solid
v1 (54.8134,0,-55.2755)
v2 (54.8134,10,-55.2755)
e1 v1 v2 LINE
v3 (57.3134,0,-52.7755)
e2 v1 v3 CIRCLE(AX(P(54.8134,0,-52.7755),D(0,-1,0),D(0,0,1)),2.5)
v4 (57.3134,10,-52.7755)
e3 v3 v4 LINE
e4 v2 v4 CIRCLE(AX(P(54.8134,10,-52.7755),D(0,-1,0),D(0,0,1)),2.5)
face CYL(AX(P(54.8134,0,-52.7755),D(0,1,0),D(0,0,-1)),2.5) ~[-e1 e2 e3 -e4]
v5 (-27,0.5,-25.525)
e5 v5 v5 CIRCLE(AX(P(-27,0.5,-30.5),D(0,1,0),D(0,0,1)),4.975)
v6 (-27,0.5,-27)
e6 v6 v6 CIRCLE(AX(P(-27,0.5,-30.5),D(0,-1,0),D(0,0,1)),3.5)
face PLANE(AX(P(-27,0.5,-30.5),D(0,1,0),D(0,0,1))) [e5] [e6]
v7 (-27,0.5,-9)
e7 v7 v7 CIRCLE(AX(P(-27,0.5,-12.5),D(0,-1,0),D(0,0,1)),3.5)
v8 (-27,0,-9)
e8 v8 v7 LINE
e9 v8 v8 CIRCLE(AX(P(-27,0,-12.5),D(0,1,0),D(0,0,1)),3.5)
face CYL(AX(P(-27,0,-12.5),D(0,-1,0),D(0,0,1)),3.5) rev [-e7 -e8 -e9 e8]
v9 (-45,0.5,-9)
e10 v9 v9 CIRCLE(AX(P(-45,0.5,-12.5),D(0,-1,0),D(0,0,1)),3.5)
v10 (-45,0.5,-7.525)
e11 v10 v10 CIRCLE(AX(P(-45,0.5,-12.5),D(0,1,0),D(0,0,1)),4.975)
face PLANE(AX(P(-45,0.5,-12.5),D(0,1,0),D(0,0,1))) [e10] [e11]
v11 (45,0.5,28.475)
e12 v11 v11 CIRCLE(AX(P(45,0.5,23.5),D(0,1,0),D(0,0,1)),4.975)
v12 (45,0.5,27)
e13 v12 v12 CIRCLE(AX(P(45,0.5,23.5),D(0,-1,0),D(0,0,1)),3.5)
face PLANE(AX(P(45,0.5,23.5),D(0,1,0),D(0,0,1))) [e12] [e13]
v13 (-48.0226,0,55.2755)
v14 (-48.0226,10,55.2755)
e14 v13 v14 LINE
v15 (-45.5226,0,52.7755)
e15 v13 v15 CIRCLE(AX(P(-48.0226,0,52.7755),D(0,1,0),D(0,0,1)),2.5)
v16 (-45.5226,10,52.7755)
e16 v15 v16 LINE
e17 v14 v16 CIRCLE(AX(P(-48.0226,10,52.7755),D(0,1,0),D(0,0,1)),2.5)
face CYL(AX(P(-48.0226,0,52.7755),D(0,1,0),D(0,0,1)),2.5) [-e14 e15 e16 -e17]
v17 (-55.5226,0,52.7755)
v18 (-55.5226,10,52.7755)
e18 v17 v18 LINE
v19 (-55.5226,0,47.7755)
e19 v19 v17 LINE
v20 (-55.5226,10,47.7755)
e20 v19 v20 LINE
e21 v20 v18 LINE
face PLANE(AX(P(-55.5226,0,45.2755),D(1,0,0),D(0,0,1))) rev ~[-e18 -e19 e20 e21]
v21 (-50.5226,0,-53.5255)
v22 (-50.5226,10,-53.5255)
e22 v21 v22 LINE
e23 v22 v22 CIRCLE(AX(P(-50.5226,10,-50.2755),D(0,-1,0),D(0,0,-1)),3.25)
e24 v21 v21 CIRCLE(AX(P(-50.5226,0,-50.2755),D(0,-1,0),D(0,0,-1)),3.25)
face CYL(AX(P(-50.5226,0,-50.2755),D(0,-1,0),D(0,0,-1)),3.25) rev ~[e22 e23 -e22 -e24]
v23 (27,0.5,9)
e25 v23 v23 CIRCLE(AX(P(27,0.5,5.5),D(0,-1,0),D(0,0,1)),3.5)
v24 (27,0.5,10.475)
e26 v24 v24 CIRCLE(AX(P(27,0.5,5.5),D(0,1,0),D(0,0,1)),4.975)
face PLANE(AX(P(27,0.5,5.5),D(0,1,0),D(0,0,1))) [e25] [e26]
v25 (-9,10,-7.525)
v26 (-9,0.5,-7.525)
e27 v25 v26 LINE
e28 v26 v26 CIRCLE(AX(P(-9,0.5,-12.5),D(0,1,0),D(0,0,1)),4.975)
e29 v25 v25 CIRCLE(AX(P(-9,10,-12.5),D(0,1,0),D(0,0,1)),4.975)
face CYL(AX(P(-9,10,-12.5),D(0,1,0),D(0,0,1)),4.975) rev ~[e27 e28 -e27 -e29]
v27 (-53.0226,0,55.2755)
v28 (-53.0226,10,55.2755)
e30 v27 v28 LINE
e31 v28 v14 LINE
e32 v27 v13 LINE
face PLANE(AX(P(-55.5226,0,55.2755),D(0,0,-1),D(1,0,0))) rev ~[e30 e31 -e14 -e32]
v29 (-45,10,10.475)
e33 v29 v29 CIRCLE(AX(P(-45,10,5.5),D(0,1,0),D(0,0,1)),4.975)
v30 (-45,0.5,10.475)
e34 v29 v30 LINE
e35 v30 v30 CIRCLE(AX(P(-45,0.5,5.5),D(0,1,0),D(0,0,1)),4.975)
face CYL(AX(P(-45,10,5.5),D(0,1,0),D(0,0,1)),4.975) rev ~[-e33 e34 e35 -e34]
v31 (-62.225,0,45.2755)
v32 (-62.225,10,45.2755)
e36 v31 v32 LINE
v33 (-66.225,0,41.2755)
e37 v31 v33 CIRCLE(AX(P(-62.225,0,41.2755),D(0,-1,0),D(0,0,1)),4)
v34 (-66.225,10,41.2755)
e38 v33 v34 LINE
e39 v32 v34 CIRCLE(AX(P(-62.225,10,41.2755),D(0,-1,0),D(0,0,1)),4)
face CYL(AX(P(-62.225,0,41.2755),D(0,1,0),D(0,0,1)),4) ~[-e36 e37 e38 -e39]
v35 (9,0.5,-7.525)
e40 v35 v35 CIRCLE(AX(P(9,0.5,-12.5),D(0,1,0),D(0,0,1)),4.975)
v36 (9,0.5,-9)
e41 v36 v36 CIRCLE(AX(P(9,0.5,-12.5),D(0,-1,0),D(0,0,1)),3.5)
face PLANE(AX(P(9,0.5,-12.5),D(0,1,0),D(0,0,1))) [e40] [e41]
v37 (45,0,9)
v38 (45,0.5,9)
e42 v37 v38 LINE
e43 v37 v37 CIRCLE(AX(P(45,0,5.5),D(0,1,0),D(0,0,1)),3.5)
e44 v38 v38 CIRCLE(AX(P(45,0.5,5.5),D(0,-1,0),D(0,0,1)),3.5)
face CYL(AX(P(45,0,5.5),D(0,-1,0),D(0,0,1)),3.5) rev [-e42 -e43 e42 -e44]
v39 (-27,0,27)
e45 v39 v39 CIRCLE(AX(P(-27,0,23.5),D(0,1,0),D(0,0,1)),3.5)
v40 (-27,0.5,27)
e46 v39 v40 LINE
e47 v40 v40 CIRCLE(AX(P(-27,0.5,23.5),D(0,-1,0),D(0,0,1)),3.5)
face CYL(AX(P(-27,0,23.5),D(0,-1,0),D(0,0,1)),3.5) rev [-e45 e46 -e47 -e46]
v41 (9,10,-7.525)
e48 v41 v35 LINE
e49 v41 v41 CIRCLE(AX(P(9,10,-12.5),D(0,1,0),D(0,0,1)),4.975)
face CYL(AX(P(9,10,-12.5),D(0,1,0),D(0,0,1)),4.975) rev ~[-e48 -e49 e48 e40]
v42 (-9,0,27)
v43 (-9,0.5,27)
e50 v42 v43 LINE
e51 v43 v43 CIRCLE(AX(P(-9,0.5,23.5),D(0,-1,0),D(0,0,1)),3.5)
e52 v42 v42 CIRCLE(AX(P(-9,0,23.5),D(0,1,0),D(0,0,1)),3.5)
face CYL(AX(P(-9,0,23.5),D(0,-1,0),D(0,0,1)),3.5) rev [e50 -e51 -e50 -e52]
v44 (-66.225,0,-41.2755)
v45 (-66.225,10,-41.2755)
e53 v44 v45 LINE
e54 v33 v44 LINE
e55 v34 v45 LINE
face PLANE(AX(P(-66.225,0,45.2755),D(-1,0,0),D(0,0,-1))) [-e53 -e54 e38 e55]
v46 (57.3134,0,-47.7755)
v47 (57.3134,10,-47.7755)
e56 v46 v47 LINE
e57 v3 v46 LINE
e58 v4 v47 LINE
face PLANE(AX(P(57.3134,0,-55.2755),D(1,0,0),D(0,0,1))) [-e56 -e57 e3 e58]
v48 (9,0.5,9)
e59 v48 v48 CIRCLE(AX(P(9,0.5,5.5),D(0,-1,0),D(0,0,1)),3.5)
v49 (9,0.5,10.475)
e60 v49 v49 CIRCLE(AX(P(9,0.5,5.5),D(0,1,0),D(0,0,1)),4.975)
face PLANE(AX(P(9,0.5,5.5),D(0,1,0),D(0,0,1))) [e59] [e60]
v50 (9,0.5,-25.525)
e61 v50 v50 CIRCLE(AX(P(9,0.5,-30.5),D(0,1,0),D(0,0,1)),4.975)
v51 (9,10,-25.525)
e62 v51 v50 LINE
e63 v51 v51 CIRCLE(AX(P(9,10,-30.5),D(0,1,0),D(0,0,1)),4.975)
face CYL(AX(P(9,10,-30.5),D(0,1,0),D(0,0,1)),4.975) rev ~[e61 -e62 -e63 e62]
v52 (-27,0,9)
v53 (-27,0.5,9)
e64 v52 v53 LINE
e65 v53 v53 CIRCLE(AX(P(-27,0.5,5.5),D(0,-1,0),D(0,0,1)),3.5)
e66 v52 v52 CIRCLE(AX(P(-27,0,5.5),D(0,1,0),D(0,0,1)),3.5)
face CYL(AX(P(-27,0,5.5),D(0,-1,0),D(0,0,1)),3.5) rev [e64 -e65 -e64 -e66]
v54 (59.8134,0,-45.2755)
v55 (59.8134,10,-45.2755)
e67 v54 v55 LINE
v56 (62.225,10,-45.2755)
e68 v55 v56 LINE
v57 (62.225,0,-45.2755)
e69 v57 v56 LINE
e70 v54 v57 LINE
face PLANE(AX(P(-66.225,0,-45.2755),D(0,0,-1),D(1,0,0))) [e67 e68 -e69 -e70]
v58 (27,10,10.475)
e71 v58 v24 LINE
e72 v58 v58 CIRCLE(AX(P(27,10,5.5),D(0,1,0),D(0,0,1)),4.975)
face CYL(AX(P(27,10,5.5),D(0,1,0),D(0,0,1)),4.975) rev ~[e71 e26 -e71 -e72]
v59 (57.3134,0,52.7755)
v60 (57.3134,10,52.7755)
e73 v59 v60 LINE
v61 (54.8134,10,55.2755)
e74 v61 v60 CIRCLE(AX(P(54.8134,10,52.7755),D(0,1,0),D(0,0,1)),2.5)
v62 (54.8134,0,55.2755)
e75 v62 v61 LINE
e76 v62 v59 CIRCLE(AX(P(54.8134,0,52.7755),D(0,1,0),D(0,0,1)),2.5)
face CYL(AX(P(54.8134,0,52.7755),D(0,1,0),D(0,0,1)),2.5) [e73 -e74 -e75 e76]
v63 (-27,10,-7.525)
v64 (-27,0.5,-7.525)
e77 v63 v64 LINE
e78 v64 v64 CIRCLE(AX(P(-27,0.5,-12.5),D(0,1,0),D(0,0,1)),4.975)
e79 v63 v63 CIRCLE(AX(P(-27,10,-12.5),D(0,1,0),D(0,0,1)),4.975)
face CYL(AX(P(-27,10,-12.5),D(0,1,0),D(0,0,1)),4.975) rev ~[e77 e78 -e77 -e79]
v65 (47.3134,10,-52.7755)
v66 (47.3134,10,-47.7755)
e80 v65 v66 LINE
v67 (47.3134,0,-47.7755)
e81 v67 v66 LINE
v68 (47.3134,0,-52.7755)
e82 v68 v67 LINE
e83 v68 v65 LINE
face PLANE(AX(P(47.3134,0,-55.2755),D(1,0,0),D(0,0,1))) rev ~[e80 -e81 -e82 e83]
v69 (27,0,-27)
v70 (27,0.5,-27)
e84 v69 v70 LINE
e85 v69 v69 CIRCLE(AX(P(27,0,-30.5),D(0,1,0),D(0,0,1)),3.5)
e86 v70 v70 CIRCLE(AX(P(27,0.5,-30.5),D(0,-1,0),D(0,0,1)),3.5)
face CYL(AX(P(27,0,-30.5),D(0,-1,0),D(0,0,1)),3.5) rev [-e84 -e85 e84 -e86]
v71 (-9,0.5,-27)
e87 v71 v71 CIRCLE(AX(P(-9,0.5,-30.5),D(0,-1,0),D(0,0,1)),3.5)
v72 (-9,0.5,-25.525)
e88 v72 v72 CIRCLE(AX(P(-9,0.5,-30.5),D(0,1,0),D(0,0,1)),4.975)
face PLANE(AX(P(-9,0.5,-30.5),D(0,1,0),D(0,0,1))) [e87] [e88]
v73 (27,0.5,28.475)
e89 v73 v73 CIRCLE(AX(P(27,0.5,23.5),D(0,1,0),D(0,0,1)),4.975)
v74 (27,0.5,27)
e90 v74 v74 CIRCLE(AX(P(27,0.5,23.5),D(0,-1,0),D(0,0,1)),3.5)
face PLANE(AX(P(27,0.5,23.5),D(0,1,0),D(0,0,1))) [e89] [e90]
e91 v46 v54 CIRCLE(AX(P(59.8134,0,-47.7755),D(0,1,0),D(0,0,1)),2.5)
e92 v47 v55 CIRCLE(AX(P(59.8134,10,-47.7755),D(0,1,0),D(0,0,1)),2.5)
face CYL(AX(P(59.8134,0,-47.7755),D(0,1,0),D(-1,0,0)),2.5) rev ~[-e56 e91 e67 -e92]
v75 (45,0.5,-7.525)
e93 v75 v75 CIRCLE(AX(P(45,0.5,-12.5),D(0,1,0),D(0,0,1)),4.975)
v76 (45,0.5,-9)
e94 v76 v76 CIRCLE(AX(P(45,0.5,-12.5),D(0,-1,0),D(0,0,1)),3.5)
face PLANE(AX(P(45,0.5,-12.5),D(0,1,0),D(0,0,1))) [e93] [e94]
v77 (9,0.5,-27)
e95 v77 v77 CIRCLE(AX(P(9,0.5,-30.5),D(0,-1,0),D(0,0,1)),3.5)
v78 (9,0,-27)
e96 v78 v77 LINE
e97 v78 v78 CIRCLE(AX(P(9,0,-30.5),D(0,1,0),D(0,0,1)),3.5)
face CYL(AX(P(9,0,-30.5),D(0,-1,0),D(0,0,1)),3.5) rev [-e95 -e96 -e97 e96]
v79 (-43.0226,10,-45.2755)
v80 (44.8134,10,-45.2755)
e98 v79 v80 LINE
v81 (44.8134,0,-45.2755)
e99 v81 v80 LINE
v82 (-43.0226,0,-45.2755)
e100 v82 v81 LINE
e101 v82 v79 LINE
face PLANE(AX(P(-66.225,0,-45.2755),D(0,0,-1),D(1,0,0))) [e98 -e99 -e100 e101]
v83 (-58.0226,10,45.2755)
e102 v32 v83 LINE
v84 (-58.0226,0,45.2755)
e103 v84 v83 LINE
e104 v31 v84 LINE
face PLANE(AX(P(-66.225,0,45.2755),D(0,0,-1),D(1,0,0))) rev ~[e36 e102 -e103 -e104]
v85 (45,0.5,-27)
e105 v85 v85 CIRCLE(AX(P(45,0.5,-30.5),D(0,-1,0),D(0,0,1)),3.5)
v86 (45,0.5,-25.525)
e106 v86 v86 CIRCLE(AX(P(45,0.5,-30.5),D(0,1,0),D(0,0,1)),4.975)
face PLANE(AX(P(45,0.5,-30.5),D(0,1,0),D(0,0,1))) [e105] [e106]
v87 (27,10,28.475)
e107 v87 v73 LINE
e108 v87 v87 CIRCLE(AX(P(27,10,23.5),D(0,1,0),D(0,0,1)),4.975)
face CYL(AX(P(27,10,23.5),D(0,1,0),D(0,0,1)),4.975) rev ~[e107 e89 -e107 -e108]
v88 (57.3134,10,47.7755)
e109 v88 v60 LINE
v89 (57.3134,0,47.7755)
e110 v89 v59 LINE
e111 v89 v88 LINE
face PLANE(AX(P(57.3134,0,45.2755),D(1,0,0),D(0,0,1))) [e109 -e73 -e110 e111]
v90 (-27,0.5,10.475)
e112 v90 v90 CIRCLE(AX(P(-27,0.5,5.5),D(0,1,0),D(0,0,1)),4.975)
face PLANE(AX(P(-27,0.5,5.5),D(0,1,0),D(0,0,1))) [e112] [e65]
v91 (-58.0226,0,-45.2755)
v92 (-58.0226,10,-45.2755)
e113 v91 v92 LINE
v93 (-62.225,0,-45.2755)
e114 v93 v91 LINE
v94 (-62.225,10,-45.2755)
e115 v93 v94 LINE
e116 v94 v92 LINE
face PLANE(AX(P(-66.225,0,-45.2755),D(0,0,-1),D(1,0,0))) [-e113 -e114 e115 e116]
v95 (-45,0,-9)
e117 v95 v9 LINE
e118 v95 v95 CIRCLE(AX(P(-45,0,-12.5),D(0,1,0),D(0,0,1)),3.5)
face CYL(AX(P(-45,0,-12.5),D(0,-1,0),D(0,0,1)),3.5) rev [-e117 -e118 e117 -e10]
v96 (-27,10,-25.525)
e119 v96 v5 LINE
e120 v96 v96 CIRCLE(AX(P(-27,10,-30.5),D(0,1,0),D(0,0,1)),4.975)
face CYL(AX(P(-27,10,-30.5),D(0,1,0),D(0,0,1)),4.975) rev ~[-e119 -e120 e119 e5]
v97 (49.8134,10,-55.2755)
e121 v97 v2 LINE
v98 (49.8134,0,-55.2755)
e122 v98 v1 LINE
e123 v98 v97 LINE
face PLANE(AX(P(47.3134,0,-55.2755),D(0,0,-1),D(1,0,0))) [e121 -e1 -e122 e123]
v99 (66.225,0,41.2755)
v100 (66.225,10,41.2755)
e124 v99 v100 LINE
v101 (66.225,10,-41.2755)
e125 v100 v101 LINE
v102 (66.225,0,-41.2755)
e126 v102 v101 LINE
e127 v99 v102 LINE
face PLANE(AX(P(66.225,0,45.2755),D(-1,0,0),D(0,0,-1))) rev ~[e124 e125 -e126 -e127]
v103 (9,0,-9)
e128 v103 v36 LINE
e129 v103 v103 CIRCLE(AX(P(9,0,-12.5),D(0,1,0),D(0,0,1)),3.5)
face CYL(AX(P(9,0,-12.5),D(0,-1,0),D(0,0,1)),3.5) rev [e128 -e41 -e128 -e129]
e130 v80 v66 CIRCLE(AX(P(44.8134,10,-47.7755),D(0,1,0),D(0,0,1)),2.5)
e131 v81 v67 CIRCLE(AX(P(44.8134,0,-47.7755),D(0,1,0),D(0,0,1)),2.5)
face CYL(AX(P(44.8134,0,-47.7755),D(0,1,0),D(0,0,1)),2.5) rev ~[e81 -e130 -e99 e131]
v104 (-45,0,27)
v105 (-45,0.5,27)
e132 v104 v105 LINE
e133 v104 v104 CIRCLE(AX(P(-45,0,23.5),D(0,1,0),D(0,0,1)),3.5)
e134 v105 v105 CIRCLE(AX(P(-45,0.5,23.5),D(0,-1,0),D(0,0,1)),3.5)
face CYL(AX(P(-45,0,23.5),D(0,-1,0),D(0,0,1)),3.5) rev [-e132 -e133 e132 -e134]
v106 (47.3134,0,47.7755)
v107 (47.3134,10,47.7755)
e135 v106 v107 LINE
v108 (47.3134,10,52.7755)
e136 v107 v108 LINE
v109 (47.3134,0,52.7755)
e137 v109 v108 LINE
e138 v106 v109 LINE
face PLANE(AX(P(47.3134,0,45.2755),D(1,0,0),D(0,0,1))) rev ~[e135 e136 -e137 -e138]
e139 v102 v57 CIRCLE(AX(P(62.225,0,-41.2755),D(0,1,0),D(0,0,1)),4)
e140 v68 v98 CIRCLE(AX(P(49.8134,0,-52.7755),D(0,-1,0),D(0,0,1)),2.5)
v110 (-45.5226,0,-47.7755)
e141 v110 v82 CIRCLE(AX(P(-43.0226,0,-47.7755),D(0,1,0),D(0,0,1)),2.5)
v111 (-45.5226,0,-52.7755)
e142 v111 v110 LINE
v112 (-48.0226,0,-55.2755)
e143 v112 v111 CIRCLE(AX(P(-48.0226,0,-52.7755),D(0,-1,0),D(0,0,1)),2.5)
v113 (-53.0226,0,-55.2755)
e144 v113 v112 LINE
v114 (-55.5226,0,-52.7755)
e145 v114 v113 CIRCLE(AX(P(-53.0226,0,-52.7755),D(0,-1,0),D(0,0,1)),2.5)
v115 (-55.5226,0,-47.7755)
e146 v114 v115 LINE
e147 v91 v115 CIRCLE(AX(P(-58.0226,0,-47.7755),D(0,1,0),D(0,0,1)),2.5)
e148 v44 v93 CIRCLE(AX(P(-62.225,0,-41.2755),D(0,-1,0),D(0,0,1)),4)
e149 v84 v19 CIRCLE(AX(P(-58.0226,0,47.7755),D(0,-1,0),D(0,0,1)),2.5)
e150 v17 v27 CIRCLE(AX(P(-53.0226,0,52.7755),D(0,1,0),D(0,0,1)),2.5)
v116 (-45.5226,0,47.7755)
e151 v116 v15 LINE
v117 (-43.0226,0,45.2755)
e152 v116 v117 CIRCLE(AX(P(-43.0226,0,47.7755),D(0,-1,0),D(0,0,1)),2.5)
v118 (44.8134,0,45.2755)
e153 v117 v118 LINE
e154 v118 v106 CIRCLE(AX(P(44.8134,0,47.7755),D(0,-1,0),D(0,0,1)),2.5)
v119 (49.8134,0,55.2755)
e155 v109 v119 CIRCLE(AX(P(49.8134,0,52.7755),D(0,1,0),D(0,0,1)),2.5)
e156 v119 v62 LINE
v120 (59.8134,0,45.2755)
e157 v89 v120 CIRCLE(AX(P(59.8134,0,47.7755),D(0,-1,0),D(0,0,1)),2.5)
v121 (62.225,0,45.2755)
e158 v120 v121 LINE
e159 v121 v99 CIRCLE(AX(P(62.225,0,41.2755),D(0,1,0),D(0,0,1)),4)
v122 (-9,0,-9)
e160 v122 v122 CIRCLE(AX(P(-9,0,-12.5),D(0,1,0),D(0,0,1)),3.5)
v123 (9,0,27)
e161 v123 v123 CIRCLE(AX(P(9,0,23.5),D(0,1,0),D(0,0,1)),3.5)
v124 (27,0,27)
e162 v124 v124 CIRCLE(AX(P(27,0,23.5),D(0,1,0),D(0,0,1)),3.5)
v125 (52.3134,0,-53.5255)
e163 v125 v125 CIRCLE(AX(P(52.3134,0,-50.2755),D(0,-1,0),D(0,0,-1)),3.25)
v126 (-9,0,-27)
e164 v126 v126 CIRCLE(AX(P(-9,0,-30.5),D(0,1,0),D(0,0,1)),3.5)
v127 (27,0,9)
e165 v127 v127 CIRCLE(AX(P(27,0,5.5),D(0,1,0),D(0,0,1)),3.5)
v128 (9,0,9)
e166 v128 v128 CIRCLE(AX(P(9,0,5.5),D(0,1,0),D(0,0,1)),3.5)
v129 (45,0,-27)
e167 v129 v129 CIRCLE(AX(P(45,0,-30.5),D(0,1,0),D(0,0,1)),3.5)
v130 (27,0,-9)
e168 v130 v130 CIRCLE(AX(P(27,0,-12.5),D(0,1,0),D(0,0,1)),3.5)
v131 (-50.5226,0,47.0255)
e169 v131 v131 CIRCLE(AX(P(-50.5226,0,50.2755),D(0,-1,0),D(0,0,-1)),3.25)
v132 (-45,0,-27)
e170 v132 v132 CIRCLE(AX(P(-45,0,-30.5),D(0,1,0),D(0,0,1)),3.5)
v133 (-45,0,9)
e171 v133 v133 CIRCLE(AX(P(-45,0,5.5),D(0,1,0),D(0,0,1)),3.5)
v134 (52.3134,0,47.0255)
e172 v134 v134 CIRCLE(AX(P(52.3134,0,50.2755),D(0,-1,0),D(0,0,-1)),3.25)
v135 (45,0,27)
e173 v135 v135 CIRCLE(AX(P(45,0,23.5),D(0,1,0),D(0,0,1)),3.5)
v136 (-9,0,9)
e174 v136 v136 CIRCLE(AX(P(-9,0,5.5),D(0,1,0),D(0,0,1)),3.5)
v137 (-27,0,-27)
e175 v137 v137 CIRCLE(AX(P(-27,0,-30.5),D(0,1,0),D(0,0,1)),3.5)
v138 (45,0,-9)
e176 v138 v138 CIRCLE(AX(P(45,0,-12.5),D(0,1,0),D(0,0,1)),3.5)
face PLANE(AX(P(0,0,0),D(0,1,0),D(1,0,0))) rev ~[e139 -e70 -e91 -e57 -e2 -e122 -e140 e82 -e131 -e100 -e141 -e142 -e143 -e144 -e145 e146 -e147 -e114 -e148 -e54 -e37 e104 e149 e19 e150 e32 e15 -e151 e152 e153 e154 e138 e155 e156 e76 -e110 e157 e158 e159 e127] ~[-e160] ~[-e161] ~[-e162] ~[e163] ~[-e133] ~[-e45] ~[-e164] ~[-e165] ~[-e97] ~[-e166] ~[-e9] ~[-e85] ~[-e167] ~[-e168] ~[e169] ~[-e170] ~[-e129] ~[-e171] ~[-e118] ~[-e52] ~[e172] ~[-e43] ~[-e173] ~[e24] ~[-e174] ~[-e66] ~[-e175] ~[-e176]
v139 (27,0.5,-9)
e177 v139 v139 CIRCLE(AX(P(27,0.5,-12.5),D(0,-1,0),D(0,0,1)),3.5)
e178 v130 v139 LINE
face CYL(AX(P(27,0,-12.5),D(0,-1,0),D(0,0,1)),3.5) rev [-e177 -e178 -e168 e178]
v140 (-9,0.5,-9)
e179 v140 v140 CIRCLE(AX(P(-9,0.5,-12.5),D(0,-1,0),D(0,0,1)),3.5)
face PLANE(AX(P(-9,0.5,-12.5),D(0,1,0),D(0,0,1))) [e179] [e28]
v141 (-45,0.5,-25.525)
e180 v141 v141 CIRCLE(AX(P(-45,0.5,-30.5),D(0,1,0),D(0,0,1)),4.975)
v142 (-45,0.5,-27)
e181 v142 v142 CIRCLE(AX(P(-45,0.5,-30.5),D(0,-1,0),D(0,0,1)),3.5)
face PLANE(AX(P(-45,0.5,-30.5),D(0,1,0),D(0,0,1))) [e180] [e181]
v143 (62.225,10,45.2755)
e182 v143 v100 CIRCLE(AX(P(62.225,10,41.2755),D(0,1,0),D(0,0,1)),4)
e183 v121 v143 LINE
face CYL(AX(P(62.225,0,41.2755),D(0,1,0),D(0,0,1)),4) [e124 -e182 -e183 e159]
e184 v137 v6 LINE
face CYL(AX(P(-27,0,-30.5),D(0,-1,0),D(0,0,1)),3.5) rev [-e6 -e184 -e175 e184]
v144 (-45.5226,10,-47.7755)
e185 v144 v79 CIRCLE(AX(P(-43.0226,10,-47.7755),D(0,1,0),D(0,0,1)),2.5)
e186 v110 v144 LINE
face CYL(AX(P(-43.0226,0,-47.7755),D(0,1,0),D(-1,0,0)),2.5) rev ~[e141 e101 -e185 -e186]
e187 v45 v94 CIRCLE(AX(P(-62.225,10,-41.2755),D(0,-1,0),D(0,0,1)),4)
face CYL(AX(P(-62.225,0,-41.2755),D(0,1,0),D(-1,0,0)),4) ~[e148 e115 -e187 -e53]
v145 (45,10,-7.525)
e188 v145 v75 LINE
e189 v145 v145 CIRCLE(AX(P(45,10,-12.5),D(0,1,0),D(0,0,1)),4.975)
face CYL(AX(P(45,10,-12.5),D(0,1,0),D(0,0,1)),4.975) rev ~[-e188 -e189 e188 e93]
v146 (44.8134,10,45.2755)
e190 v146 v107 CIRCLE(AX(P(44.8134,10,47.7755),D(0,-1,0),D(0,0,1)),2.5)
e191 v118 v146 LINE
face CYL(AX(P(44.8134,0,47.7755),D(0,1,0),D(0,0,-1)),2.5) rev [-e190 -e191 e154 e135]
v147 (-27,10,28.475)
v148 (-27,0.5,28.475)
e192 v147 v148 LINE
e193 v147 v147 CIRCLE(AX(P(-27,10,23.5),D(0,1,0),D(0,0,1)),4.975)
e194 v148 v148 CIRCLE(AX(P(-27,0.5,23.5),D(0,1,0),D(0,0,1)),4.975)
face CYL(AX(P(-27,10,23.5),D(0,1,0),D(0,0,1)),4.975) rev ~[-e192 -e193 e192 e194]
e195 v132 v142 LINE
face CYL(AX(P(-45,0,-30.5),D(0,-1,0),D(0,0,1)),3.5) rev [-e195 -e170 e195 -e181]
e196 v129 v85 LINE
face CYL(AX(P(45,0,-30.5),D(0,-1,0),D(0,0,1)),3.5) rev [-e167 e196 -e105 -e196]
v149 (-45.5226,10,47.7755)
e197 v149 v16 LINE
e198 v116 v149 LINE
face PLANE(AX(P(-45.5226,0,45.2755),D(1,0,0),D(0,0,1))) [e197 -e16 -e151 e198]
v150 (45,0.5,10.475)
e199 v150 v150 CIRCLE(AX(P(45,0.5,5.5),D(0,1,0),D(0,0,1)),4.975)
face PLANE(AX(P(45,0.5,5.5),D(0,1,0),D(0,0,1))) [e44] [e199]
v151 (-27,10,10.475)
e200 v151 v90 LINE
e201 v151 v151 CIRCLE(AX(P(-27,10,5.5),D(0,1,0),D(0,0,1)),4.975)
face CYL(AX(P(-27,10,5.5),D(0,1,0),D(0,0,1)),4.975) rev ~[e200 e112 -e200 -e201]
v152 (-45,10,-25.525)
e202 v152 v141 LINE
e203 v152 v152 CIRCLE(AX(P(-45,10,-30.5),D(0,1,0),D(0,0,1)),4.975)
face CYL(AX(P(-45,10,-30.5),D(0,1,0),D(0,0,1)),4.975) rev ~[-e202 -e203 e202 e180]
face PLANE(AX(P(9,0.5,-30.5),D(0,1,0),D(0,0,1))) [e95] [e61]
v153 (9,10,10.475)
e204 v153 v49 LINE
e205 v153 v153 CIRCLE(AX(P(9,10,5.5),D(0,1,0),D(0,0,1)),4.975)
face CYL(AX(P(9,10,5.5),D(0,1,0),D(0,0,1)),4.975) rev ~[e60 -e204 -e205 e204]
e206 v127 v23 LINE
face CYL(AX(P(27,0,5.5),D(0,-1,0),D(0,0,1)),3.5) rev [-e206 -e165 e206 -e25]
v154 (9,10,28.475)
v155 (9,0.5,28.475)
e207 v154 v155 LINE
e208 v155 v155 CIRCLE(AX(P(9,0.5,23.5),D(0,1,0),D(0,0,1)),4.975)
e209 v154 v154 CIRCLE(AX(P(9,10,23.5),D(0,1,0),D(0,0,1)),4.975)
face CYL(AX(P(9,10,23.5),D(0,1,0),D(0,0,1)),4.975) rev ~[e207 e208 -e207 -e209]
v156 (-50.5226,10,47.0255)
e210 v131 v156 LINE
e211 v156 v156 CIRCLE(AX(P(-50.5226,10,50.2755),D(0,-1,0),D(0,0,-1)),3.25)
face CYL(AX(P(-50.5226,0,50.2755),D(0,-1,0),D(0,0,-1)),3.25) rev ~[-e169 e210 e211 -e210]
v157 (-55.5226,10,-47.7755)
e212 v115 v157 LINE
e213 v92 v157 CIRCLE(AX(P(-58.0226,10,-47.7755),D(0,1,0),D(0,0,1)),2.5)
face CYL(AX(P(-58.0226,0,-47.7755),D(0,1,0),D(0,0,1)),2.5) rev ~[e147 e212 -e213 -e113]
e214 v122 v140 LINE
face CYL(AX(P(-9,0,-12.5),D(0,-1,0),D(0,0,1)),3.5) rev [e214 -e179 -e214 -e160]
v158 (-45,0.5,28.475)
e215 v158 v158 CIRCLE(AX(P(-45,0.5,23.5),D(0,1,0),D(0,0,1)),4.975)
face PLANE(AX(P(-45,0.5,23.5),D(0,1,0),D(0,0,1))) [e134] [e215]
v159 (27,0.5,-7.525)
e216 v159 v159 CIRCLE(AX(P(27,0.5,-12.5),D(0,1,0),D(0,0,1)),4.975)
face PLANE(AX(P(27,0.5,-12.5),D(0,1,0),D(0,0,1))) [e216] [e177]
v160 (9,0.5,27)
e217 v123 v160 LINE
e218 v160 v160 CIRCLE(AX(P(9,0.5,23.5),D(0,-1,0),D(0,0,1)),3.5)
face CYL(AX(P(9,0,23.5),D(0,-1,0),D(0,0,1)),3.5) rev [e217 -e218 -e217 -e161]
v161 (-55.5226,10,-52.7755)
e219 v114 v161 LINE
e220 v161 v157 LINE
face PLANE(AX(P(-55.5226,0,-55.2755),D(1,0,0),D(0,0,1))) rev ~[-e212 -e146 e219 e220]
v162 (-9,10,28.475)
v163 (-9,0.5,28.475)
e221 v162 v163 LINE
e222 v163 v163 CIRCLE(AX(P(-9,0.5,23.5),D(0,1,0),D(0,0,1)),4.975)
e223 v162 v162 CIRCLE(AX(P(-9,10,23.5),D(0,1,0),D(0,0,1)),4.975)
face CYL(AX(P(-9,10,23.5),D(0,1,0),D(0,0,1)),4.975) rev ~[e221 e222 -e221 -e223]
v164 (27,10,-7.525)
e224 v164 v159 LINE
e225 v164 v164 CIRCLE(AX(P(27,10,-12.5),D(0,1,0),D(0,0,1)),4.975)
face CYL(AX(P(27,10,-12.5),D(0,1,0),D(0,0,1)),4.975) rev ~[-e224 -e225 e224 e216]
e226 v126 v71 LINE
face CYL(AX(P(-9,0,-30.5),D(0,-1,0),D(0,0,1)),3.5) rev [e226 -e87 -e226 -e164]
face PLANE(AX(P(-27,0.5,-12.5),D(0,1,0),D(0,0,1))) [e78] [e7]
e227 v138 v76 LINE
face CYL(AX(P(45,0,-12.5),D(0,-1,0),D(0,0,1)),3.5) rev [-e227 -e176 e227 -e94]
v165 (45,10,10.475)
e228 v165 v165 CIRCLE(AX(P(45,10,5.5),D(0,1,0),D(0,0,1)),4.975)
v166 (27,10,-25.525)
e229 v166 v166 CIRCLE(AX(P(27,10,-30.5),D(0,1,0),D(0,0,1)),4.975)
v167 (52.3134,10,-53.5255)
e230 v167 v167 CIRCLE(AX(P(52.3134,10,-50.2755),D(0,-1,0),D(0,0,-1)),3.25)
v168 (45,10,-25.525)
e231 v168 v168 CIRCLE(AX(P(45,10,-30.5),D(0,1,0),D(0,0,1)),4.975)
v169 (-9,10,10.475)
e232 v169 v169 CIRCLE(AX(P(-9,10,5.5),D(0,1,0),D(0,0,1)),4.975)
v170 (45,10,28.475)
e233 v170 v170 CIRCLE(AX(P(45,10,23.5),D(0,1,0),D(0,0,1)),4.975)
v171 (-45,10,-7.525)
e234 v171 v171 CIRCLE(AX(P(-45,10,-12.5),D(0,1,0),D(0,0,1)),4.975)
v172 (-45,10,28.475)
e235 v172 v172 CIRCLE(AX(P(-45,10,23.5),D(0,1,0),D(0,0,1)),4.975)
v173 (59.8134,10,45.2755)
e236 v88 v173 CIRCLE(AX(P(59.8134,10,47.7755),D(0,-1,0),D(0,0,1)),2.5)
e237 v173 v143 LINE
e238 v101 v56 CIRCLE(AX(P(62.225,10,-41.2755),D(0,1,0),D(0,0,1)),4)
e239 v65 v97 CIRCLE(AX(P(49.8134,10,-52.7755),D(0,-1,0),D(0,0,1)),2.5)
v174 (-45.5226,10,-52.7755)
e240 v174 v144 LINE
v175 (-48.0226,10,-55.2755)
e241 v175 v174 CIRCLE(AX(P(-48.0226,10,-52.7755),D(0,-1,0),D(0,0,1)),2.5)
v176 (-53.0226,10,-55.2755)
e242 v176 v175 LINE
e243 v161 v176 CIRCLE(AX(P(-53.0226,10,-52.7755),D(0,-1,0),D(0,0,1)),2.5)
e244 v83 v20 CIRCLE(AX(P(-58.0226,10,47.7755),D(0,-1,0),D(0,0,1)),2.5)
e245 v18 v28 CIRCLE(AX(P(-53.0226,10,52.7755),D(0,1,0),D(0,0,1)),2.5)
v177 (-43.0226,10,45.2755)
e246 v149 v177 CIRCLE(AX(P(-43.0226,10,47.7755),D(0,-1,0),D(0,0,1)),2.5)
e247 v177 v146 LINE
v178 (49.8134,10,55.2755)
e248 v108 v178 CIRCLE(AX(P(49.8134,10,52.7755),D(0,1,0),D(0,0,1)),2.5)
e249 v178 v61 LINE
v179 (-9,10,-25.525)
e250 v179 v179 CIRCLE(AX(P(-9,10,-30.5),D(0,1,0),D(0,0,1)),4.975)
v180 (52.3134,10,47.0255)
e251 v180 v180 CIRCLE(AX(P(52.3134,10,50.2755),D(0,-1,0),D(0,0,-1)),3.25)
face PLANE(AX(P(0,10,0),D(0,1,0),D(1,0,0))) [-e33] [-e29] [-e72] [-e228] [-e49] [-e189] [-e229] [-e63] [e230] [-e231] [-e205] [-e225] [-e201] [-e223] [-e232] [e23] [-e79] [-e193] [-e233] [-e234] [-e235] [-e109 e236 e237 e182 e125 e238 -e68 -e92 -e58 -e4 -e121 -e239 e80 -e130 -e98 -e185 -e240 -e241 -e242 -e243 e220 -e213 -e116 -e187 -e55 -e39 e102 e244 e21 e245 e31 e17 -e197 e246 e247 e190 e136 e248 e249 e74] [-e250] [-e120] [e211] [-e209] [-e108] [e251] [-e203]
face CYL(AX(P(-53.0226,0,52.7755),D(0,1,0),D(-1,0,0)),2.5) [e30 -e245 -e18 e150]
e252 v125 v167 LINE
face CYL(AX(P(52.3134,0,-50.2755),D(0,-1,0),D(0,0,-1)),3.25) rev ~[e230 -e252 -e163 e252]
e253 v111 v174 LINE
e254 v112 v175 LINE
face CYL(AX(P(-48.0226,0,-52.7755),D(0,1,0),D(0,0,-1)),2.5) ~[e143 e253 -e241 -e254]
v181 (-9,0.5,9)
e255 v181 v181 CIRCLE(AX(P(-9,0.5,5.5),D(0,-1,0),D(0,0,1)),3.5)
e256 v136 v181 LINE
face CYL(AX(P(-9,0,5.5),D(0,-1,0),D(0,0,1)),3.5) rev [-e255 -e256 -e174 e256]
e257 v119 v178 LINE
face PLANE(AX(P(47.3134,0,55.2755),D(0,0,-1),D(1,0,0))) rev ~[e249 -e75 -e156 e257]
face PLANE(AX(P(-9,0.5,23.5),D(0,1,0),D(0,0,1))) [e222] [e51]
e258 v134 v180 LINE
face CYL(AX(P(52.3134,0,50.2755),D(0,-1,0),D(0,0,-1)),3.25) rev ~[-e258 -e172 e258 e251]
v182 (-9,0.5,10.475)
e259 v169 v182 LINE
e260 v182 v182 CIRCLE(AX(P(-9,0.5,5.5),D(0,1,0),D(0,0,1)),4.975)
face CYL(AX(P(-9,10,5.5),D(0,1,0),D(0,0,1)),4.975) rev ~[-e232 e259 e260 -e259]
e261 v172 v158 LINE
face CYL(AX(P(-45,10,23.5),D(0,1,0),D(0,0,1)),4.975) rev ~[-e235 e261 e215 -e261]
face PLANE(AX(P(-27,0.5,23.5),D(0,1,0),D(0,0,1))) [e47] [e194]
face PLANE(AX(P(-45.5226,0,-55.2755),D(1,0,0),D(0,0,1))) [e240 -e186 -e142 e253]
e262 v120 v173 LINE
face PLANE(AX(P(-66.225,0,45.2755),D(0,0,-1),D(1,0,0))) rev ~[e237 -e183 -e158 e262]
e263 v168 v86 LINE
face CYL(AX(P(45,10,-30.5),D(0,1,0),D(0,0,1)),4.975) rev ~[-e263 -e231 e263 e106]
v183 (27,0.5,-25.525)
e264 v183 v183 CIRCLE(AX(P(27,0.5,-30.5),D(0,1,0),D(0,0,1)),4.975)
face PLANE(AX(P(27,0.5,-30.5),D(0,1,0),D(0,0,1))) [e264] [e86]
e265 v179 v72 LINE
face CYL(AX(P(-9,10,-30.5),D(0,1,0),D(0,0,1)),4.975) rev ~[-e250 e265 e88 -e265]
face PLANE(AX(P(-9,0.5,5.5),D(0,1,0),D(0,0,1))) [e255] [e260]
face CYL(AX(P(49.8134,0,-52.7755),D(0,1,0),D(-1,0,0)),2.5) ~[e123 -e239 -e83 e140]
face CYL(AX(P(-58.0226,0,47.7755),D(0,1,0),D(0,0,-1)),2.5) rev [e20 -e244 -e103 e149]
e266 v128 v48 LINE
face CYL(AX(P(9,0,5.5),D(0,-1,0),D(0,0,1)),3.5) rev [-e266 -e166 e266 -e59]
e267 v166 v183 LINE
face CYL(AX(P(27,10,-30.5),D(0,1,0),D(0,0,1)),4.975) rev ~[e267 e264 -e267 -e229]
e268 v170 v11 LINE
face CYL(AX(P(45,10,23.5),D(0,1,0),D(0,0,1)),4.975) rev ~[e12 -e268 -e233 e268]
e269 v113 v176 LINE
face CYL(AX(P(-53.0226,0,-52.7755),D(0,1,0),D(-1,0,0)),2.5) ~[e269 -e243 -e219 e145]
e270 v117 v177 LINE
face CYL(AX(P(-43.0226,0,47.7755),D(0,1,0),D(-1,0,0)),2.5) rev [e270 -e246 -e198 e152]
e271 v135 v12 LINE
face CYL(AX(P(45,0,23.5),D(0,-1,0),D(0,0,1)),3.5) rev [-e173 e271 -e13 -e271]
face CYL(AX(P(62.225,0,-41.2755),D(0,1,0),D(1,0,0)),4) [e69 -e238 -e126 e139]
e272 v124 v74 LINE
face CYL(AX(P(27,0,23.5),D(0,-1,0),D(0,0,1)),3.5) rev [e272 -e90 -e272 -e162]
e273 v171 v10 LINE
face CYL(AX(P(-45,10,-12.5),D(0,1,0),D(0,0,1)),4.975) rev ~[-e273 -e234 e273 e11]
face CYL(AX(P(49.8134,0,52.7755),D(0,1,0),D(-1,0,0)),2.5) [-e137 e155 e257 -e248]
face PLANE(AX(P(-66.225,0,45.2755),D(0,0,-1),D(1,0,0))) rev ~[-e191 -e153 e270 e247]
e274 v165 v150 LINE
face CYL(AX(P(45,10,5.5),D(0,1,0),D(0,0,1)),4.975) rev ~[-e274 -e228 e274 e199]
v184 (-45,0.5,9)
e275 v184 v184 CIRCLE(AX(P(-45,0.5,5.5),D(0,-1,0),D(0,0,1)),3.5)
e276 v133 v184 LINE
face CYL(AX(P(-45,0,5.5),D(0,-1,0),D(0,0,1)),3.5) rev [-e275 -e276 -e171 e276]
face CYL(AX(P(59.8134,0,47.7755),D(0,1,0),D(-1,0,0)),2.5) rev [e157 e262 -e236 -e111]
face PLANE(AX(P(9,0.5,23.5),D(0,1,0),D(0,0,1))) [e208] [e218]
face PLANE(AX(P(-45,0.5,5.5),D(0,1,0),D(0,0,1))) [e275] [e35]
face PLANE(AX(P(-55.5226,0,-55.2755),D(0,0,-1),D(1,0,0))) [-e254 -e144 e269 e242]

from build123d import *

# Parameters (mm, degrees)
SKETCH1_W           = 132.45
SKETCH1_H           = 90.551
SKETCH1_R           = 3.5
BOSS_EXTRUDE1_DEPTH = 10
SKETCH3_W           = 10
SKETCH3_H           = 10
BOSS_EXTRUDE3_DEPTH = 10
SKETCH4_R           = 3.25
CUT_EXTRUDE2_DEPTH  = 87.839688652
FILLET2_R           = 2.5
FILLET3_R           = 4
SKETCH5_R           = 4.975
CUT_EXTRUDE3_DEPTH  = 9.5


with BuildPart() as part:
    # Sketch1 → Boss-Extrude1 (new body)
    with BuildSketch(Plane(origin=(0, 0, 0), x_dir=(1, 0, 0), z_dir=(0, 1, 0))):
        Rectangle(SKETCH1_W, SKETCH1_H)
        with Locations(Location((-45, 30.5, 0), (0, 0, 270))):
            Circle(SKETCH1_R, mode=Mode.SUBTRACT)
        with Locations(Location((-27, 30.5, 0), (0, 0, 270))):
            Circle(SKETCH1_R, mode=Mode.SUBTRACT)
        with Locations(Location((-9, 30.5, 0), (0, 0, 270))):
            Circle(SKETCH1_R, mode=Mode.SUBTRACT)
        with Locations(Location((9, 30.5, 0), (0, 0, 270))):
            Circle(SKETCH1_R, mode=Mode.SUBTRACT)
        with Locations(Location((27, 30.5, 0), (0, 0, 270))):
            Circle(SKETCH1_R, mode=Mode.SUBTRACT)
        with Locations(Location((45, 30.5, 0), (0, 0, 270))):
            Circle(SKETCH1_R, mode=Mode.SUBTRACT)
        with Locations(Location((-27, 12.5, 0), (0, 0, 270))):
            Circle(SKETCH1_R, mode=Mode.SUBTRACT)
        with Locations(Location((-9, 12.5, 0), (0, 0, 270))):
            Circle(SKETCH1_R, mode=Mode.SUBTRACT)
        with Locations(Location((9, 12.5, 0), (0, 0, 270))):
            Circle(SKETCH1_R, mode=Mode.SUBTRACT)
        with Locations(Location((27, 12.5, 0), (0, 0, 270))):
            Circle(SKETCH1_R, mode=Mode.SUBTRACT)
        with Locations(Location((45, 12.5, 0), (0, 0, 270))):
            Circle(SKETCH1_R, mode=Mode.SUBTRACT)
        with Locations(Location((-27, -5.5, 0), (0, 0, 270))):
            Circle(SKETCH1_R, mode=Mode.SUBTRACT)
        with Locations(Location((-9, -5.5, 0), (0, 0, 270))):
            Circle(SKETCH1_R, mode=Mode.SUBTRACT)
        with Locations(Location((9, -5.5, 0), (0, 0, 270))):
            Circle(SKETCH1_R, mode=Mode.SUBTRACT)
        with Locations(Location((27, -5.5, 0), (0, 0, 270))):
            Circle(SKETCH1_R, mode=Mode.SUBTRACT)
        with Locations(Location((45, -5.5, 0), (0, 0, 270))):
            Circle(SKETCH1_R, mode=Mode.SUBTRACT)
        with Locations(Location((-27, -23.5, 0), (0, 0, 270))):
            Circle(SKETCH1_R, mode=Mode.SUBTRACT)
        with Locations(Location((-9, -23.5, 0), (0, 0, 270))):
            Circle(SKETCH1_R, mode=Mode.SUBTRACT)
        with Locations(Location((9, -23.5, 0), (0, 0, 270))):
            Circle(SKETCH1_R, mode=Mode.SUBTRACT)
        with Locations(Location((27, -23.5, 0), (0, 0, 270))):
            Circle(SKETCH1_R, mode=Mode.SUBTRACT)
        with Locations(Location((45, -23.5, 0), (0, 0, 270))):
            Circle(SKETCH1_R, mode=Mode.SUBTRACT)
        with Locations(Location((-45, 12.5, 0), (0, 0, 270))):
            Circle(SKETCH1_R, mode=Mode.SUBTRACT)
        with Locations(Location((-45, -5.5, 0), (0, 0, 270))):
            Circle(SKETCH1_R, mode=Mode.SUBTRACT)
        with Locations(Location((-45, -23.5, 0), (0, 0, 270))):
            Circle(SKETCH1_R, mode=Mode.SUBTRACT)
    extrude(amount=BOSS_EXTRUDE1_DEPTH)

    # Sketch3 → Boss-Extrude3 (add)
    with BuildSketch(Plane.XZ):
        with Locations((52.3134, -50.2755)):
            Rectangle(SKETCH3_W, SKETCH3_H)
        with Locations((-50.5226, -50.2755)):
            Rectangle(SKETCH3_W, SKETCH3_H)
        with Locations((-50.5226, 50.2755)):
            Rectangle(SKETCH3_W, SKETCH3_H)
        with Locations((52.3134, 50.2755)):
            Rectangle(SKETCH3_W, SKETCH3_H)
    extrude(amount=-BOSS_EXTRUDE3_DEPTH)

    # Sketch4 → Cut-Extrude2 (cut, through all)
    with BuildSketch(Plane(origin=(0, 0, 0), x_dir=(-1, 0, 0), z_dir=(0, -1, 0))):
        with Locations(Location((-52.3134, -50.2755, 0), (0, 0, 90))):
            Circle(SKETCH4_R)
        with Locations(Location((50.5226, -50.2755, 0), (0, 0, 90))):
            Circle(SKETCH4_R)
        with Locations(Location((50.5226, 50.2755, 0), (0, 0, 90))):
            Circle(SKETCH4_R)
        with Locations(Location((-52.3134, 50.2755, 0), (0, 0, 90))):
            Circle(SKETCH4_R)
    extrude(amount=-CUT_EXTRUDE2_DEPTH, mode=Mode.SUBTRACT)

    # Fillet2
    fillet2_edges = [part.edges().sort_by_distance(p)[0] for p in [
        (47.3134, 5, 55.2755),
        (47.3134, 5, 45.2755),
        (57.3134, 5, 55.2755),
        (57.3134, 5, 45.2755),
        (-45.5226, 5, 55.2755),
        (-45.5226, 5, 45.2755),
        (-55.5226, 5, 55.2755),
        (-55.5226, 5, 45.2755),
        (-45.5226, 5, -45.2755),
        (-45.5226, 5, -55.2755),
        (-55.5226, 5, -45.2755),
        (-55.5226, 5, -55.2755),
        (47.3134, 5, -45.2755),
        (47.3134, 5, -55.2755),
        (57.3134, 5, -45.2755),
        (57.3134, 5, -55.2755),
    ]]
    fillet(fillet2_edges, radius=FILLET2_R)

    # Fillet3
    fillet3_edges = [part.edges().sort_by_distance(p)[0] for p in [
        (-66.225, 5, -45.2755),
        (-66.225, 5, 45.2755),
        (66.225, 5, 45.2755),
        (66.225, 5, -45.2755),
    ]]
    fillet(fillet3_edges, radius=FILLET3_R)

    # Sketch5 → Cut-Extrude3 (cut)
    with BuildSketch(Plane(origin=(0, 10, 0), x_dir=(1, 0, 0), z_dir=(0, 1, 0))):
        with Locations(Location((45, -23.5, 0), (0, 0, 270))):
            Circle(SKETCH5_R)
        with Locations(Location((27, -23.5, 0), (0, 0, 270))):
            Circle(SKETCH5_R)
        with Locations(Location((9, -23.5, 0), (0, 0, 270))):
            Circle(SKETCH5_R)
        with Locations(Location((-9, -23.5, 0), (0, 0, 270))):
            Circle(SKETCH5_R)
        with Locations(Location((-27, -23.5, 0), (0, 0, 270))):
            Circle(SKETCH5_R)
        with Locations(Location((-45, -23.5, 0), (0, 0, 270))):
            Circle(SKETCH5_R)
        with Locations(Location((45, -5.5, 0), (0, 0, 270))):
            Circle(SKETCH5_R)
        with Locations(Location((27, -5.5, 0), (0, 0, 270))):
            Circle(SKETCH5_R)
        with Locations(Location((9, -5.5, 0), (0, 0, 270))):
            Circle(SKETCH5_R)
        with Locations(Location((-9, -5.5, 0), (0, 0, 270))):
            Circle(SKETCH5_R)
        with Locations(Location((-27, -5.5, 0), (0, 0, 270))):
            Circle(SKETCH5_R)
        with Locations(Location((-45, -5.5, 0), (0, 0, 270))):
            Circle(SKETCH5_R)
        with Locations(Location((45, 12.5, 0), (0, 0, 270))):
            Circle(SKETCH5_R)
        with Locations(Location((27, 12.5, 0), (0, 0, 270))):
            Circle(SKETCH5_R)
        with Locations(Location((9, 12.5, 0), (0, 0, 270))):
            Circle(SKETCH5_R)
        with Locations(Location((-9, 12.5, 0), (0, 0, 270))):
            Circle(SKETCH5_R)
        with Locations(Location((-27, 12.5, 0), (0, 0, 270))):
            Circle(SKETCH5_R)
        with Locations(Location((-45, 12.5, 0), (0, 0, 270))):
            Circle(SKETCH5_R)
        with Locations(Location((45, 30.5, 0), (0, 0, 270))):
            Circle(SKETCH5_R)
        with Locations(Location((27, 30.5, 0), (0, 0, 270))):
            Circle(SKETCH5_R)
        with Locations(Location((9, 30.5, 0), (0, 0, 270))):
            Circle(SKETCH5_R)
        with Locations(Location((-9, 30.5, 0), (0, 0, 270))):
            Circle(SKETCH5_R)
        with Locations(Location((-27, 30.5, 0), (0, 0, 270))):
            Circle(SKETCH5_R)
        with Locations(Location((-45, 30.5, 0), (0, 0, 270))):
            Circle(SKETCH5_R)
    extrude(amount=-CUT_EXTRUDE3_DEPTH, mode=Mode.SUBTRACT)


solid = part.part
